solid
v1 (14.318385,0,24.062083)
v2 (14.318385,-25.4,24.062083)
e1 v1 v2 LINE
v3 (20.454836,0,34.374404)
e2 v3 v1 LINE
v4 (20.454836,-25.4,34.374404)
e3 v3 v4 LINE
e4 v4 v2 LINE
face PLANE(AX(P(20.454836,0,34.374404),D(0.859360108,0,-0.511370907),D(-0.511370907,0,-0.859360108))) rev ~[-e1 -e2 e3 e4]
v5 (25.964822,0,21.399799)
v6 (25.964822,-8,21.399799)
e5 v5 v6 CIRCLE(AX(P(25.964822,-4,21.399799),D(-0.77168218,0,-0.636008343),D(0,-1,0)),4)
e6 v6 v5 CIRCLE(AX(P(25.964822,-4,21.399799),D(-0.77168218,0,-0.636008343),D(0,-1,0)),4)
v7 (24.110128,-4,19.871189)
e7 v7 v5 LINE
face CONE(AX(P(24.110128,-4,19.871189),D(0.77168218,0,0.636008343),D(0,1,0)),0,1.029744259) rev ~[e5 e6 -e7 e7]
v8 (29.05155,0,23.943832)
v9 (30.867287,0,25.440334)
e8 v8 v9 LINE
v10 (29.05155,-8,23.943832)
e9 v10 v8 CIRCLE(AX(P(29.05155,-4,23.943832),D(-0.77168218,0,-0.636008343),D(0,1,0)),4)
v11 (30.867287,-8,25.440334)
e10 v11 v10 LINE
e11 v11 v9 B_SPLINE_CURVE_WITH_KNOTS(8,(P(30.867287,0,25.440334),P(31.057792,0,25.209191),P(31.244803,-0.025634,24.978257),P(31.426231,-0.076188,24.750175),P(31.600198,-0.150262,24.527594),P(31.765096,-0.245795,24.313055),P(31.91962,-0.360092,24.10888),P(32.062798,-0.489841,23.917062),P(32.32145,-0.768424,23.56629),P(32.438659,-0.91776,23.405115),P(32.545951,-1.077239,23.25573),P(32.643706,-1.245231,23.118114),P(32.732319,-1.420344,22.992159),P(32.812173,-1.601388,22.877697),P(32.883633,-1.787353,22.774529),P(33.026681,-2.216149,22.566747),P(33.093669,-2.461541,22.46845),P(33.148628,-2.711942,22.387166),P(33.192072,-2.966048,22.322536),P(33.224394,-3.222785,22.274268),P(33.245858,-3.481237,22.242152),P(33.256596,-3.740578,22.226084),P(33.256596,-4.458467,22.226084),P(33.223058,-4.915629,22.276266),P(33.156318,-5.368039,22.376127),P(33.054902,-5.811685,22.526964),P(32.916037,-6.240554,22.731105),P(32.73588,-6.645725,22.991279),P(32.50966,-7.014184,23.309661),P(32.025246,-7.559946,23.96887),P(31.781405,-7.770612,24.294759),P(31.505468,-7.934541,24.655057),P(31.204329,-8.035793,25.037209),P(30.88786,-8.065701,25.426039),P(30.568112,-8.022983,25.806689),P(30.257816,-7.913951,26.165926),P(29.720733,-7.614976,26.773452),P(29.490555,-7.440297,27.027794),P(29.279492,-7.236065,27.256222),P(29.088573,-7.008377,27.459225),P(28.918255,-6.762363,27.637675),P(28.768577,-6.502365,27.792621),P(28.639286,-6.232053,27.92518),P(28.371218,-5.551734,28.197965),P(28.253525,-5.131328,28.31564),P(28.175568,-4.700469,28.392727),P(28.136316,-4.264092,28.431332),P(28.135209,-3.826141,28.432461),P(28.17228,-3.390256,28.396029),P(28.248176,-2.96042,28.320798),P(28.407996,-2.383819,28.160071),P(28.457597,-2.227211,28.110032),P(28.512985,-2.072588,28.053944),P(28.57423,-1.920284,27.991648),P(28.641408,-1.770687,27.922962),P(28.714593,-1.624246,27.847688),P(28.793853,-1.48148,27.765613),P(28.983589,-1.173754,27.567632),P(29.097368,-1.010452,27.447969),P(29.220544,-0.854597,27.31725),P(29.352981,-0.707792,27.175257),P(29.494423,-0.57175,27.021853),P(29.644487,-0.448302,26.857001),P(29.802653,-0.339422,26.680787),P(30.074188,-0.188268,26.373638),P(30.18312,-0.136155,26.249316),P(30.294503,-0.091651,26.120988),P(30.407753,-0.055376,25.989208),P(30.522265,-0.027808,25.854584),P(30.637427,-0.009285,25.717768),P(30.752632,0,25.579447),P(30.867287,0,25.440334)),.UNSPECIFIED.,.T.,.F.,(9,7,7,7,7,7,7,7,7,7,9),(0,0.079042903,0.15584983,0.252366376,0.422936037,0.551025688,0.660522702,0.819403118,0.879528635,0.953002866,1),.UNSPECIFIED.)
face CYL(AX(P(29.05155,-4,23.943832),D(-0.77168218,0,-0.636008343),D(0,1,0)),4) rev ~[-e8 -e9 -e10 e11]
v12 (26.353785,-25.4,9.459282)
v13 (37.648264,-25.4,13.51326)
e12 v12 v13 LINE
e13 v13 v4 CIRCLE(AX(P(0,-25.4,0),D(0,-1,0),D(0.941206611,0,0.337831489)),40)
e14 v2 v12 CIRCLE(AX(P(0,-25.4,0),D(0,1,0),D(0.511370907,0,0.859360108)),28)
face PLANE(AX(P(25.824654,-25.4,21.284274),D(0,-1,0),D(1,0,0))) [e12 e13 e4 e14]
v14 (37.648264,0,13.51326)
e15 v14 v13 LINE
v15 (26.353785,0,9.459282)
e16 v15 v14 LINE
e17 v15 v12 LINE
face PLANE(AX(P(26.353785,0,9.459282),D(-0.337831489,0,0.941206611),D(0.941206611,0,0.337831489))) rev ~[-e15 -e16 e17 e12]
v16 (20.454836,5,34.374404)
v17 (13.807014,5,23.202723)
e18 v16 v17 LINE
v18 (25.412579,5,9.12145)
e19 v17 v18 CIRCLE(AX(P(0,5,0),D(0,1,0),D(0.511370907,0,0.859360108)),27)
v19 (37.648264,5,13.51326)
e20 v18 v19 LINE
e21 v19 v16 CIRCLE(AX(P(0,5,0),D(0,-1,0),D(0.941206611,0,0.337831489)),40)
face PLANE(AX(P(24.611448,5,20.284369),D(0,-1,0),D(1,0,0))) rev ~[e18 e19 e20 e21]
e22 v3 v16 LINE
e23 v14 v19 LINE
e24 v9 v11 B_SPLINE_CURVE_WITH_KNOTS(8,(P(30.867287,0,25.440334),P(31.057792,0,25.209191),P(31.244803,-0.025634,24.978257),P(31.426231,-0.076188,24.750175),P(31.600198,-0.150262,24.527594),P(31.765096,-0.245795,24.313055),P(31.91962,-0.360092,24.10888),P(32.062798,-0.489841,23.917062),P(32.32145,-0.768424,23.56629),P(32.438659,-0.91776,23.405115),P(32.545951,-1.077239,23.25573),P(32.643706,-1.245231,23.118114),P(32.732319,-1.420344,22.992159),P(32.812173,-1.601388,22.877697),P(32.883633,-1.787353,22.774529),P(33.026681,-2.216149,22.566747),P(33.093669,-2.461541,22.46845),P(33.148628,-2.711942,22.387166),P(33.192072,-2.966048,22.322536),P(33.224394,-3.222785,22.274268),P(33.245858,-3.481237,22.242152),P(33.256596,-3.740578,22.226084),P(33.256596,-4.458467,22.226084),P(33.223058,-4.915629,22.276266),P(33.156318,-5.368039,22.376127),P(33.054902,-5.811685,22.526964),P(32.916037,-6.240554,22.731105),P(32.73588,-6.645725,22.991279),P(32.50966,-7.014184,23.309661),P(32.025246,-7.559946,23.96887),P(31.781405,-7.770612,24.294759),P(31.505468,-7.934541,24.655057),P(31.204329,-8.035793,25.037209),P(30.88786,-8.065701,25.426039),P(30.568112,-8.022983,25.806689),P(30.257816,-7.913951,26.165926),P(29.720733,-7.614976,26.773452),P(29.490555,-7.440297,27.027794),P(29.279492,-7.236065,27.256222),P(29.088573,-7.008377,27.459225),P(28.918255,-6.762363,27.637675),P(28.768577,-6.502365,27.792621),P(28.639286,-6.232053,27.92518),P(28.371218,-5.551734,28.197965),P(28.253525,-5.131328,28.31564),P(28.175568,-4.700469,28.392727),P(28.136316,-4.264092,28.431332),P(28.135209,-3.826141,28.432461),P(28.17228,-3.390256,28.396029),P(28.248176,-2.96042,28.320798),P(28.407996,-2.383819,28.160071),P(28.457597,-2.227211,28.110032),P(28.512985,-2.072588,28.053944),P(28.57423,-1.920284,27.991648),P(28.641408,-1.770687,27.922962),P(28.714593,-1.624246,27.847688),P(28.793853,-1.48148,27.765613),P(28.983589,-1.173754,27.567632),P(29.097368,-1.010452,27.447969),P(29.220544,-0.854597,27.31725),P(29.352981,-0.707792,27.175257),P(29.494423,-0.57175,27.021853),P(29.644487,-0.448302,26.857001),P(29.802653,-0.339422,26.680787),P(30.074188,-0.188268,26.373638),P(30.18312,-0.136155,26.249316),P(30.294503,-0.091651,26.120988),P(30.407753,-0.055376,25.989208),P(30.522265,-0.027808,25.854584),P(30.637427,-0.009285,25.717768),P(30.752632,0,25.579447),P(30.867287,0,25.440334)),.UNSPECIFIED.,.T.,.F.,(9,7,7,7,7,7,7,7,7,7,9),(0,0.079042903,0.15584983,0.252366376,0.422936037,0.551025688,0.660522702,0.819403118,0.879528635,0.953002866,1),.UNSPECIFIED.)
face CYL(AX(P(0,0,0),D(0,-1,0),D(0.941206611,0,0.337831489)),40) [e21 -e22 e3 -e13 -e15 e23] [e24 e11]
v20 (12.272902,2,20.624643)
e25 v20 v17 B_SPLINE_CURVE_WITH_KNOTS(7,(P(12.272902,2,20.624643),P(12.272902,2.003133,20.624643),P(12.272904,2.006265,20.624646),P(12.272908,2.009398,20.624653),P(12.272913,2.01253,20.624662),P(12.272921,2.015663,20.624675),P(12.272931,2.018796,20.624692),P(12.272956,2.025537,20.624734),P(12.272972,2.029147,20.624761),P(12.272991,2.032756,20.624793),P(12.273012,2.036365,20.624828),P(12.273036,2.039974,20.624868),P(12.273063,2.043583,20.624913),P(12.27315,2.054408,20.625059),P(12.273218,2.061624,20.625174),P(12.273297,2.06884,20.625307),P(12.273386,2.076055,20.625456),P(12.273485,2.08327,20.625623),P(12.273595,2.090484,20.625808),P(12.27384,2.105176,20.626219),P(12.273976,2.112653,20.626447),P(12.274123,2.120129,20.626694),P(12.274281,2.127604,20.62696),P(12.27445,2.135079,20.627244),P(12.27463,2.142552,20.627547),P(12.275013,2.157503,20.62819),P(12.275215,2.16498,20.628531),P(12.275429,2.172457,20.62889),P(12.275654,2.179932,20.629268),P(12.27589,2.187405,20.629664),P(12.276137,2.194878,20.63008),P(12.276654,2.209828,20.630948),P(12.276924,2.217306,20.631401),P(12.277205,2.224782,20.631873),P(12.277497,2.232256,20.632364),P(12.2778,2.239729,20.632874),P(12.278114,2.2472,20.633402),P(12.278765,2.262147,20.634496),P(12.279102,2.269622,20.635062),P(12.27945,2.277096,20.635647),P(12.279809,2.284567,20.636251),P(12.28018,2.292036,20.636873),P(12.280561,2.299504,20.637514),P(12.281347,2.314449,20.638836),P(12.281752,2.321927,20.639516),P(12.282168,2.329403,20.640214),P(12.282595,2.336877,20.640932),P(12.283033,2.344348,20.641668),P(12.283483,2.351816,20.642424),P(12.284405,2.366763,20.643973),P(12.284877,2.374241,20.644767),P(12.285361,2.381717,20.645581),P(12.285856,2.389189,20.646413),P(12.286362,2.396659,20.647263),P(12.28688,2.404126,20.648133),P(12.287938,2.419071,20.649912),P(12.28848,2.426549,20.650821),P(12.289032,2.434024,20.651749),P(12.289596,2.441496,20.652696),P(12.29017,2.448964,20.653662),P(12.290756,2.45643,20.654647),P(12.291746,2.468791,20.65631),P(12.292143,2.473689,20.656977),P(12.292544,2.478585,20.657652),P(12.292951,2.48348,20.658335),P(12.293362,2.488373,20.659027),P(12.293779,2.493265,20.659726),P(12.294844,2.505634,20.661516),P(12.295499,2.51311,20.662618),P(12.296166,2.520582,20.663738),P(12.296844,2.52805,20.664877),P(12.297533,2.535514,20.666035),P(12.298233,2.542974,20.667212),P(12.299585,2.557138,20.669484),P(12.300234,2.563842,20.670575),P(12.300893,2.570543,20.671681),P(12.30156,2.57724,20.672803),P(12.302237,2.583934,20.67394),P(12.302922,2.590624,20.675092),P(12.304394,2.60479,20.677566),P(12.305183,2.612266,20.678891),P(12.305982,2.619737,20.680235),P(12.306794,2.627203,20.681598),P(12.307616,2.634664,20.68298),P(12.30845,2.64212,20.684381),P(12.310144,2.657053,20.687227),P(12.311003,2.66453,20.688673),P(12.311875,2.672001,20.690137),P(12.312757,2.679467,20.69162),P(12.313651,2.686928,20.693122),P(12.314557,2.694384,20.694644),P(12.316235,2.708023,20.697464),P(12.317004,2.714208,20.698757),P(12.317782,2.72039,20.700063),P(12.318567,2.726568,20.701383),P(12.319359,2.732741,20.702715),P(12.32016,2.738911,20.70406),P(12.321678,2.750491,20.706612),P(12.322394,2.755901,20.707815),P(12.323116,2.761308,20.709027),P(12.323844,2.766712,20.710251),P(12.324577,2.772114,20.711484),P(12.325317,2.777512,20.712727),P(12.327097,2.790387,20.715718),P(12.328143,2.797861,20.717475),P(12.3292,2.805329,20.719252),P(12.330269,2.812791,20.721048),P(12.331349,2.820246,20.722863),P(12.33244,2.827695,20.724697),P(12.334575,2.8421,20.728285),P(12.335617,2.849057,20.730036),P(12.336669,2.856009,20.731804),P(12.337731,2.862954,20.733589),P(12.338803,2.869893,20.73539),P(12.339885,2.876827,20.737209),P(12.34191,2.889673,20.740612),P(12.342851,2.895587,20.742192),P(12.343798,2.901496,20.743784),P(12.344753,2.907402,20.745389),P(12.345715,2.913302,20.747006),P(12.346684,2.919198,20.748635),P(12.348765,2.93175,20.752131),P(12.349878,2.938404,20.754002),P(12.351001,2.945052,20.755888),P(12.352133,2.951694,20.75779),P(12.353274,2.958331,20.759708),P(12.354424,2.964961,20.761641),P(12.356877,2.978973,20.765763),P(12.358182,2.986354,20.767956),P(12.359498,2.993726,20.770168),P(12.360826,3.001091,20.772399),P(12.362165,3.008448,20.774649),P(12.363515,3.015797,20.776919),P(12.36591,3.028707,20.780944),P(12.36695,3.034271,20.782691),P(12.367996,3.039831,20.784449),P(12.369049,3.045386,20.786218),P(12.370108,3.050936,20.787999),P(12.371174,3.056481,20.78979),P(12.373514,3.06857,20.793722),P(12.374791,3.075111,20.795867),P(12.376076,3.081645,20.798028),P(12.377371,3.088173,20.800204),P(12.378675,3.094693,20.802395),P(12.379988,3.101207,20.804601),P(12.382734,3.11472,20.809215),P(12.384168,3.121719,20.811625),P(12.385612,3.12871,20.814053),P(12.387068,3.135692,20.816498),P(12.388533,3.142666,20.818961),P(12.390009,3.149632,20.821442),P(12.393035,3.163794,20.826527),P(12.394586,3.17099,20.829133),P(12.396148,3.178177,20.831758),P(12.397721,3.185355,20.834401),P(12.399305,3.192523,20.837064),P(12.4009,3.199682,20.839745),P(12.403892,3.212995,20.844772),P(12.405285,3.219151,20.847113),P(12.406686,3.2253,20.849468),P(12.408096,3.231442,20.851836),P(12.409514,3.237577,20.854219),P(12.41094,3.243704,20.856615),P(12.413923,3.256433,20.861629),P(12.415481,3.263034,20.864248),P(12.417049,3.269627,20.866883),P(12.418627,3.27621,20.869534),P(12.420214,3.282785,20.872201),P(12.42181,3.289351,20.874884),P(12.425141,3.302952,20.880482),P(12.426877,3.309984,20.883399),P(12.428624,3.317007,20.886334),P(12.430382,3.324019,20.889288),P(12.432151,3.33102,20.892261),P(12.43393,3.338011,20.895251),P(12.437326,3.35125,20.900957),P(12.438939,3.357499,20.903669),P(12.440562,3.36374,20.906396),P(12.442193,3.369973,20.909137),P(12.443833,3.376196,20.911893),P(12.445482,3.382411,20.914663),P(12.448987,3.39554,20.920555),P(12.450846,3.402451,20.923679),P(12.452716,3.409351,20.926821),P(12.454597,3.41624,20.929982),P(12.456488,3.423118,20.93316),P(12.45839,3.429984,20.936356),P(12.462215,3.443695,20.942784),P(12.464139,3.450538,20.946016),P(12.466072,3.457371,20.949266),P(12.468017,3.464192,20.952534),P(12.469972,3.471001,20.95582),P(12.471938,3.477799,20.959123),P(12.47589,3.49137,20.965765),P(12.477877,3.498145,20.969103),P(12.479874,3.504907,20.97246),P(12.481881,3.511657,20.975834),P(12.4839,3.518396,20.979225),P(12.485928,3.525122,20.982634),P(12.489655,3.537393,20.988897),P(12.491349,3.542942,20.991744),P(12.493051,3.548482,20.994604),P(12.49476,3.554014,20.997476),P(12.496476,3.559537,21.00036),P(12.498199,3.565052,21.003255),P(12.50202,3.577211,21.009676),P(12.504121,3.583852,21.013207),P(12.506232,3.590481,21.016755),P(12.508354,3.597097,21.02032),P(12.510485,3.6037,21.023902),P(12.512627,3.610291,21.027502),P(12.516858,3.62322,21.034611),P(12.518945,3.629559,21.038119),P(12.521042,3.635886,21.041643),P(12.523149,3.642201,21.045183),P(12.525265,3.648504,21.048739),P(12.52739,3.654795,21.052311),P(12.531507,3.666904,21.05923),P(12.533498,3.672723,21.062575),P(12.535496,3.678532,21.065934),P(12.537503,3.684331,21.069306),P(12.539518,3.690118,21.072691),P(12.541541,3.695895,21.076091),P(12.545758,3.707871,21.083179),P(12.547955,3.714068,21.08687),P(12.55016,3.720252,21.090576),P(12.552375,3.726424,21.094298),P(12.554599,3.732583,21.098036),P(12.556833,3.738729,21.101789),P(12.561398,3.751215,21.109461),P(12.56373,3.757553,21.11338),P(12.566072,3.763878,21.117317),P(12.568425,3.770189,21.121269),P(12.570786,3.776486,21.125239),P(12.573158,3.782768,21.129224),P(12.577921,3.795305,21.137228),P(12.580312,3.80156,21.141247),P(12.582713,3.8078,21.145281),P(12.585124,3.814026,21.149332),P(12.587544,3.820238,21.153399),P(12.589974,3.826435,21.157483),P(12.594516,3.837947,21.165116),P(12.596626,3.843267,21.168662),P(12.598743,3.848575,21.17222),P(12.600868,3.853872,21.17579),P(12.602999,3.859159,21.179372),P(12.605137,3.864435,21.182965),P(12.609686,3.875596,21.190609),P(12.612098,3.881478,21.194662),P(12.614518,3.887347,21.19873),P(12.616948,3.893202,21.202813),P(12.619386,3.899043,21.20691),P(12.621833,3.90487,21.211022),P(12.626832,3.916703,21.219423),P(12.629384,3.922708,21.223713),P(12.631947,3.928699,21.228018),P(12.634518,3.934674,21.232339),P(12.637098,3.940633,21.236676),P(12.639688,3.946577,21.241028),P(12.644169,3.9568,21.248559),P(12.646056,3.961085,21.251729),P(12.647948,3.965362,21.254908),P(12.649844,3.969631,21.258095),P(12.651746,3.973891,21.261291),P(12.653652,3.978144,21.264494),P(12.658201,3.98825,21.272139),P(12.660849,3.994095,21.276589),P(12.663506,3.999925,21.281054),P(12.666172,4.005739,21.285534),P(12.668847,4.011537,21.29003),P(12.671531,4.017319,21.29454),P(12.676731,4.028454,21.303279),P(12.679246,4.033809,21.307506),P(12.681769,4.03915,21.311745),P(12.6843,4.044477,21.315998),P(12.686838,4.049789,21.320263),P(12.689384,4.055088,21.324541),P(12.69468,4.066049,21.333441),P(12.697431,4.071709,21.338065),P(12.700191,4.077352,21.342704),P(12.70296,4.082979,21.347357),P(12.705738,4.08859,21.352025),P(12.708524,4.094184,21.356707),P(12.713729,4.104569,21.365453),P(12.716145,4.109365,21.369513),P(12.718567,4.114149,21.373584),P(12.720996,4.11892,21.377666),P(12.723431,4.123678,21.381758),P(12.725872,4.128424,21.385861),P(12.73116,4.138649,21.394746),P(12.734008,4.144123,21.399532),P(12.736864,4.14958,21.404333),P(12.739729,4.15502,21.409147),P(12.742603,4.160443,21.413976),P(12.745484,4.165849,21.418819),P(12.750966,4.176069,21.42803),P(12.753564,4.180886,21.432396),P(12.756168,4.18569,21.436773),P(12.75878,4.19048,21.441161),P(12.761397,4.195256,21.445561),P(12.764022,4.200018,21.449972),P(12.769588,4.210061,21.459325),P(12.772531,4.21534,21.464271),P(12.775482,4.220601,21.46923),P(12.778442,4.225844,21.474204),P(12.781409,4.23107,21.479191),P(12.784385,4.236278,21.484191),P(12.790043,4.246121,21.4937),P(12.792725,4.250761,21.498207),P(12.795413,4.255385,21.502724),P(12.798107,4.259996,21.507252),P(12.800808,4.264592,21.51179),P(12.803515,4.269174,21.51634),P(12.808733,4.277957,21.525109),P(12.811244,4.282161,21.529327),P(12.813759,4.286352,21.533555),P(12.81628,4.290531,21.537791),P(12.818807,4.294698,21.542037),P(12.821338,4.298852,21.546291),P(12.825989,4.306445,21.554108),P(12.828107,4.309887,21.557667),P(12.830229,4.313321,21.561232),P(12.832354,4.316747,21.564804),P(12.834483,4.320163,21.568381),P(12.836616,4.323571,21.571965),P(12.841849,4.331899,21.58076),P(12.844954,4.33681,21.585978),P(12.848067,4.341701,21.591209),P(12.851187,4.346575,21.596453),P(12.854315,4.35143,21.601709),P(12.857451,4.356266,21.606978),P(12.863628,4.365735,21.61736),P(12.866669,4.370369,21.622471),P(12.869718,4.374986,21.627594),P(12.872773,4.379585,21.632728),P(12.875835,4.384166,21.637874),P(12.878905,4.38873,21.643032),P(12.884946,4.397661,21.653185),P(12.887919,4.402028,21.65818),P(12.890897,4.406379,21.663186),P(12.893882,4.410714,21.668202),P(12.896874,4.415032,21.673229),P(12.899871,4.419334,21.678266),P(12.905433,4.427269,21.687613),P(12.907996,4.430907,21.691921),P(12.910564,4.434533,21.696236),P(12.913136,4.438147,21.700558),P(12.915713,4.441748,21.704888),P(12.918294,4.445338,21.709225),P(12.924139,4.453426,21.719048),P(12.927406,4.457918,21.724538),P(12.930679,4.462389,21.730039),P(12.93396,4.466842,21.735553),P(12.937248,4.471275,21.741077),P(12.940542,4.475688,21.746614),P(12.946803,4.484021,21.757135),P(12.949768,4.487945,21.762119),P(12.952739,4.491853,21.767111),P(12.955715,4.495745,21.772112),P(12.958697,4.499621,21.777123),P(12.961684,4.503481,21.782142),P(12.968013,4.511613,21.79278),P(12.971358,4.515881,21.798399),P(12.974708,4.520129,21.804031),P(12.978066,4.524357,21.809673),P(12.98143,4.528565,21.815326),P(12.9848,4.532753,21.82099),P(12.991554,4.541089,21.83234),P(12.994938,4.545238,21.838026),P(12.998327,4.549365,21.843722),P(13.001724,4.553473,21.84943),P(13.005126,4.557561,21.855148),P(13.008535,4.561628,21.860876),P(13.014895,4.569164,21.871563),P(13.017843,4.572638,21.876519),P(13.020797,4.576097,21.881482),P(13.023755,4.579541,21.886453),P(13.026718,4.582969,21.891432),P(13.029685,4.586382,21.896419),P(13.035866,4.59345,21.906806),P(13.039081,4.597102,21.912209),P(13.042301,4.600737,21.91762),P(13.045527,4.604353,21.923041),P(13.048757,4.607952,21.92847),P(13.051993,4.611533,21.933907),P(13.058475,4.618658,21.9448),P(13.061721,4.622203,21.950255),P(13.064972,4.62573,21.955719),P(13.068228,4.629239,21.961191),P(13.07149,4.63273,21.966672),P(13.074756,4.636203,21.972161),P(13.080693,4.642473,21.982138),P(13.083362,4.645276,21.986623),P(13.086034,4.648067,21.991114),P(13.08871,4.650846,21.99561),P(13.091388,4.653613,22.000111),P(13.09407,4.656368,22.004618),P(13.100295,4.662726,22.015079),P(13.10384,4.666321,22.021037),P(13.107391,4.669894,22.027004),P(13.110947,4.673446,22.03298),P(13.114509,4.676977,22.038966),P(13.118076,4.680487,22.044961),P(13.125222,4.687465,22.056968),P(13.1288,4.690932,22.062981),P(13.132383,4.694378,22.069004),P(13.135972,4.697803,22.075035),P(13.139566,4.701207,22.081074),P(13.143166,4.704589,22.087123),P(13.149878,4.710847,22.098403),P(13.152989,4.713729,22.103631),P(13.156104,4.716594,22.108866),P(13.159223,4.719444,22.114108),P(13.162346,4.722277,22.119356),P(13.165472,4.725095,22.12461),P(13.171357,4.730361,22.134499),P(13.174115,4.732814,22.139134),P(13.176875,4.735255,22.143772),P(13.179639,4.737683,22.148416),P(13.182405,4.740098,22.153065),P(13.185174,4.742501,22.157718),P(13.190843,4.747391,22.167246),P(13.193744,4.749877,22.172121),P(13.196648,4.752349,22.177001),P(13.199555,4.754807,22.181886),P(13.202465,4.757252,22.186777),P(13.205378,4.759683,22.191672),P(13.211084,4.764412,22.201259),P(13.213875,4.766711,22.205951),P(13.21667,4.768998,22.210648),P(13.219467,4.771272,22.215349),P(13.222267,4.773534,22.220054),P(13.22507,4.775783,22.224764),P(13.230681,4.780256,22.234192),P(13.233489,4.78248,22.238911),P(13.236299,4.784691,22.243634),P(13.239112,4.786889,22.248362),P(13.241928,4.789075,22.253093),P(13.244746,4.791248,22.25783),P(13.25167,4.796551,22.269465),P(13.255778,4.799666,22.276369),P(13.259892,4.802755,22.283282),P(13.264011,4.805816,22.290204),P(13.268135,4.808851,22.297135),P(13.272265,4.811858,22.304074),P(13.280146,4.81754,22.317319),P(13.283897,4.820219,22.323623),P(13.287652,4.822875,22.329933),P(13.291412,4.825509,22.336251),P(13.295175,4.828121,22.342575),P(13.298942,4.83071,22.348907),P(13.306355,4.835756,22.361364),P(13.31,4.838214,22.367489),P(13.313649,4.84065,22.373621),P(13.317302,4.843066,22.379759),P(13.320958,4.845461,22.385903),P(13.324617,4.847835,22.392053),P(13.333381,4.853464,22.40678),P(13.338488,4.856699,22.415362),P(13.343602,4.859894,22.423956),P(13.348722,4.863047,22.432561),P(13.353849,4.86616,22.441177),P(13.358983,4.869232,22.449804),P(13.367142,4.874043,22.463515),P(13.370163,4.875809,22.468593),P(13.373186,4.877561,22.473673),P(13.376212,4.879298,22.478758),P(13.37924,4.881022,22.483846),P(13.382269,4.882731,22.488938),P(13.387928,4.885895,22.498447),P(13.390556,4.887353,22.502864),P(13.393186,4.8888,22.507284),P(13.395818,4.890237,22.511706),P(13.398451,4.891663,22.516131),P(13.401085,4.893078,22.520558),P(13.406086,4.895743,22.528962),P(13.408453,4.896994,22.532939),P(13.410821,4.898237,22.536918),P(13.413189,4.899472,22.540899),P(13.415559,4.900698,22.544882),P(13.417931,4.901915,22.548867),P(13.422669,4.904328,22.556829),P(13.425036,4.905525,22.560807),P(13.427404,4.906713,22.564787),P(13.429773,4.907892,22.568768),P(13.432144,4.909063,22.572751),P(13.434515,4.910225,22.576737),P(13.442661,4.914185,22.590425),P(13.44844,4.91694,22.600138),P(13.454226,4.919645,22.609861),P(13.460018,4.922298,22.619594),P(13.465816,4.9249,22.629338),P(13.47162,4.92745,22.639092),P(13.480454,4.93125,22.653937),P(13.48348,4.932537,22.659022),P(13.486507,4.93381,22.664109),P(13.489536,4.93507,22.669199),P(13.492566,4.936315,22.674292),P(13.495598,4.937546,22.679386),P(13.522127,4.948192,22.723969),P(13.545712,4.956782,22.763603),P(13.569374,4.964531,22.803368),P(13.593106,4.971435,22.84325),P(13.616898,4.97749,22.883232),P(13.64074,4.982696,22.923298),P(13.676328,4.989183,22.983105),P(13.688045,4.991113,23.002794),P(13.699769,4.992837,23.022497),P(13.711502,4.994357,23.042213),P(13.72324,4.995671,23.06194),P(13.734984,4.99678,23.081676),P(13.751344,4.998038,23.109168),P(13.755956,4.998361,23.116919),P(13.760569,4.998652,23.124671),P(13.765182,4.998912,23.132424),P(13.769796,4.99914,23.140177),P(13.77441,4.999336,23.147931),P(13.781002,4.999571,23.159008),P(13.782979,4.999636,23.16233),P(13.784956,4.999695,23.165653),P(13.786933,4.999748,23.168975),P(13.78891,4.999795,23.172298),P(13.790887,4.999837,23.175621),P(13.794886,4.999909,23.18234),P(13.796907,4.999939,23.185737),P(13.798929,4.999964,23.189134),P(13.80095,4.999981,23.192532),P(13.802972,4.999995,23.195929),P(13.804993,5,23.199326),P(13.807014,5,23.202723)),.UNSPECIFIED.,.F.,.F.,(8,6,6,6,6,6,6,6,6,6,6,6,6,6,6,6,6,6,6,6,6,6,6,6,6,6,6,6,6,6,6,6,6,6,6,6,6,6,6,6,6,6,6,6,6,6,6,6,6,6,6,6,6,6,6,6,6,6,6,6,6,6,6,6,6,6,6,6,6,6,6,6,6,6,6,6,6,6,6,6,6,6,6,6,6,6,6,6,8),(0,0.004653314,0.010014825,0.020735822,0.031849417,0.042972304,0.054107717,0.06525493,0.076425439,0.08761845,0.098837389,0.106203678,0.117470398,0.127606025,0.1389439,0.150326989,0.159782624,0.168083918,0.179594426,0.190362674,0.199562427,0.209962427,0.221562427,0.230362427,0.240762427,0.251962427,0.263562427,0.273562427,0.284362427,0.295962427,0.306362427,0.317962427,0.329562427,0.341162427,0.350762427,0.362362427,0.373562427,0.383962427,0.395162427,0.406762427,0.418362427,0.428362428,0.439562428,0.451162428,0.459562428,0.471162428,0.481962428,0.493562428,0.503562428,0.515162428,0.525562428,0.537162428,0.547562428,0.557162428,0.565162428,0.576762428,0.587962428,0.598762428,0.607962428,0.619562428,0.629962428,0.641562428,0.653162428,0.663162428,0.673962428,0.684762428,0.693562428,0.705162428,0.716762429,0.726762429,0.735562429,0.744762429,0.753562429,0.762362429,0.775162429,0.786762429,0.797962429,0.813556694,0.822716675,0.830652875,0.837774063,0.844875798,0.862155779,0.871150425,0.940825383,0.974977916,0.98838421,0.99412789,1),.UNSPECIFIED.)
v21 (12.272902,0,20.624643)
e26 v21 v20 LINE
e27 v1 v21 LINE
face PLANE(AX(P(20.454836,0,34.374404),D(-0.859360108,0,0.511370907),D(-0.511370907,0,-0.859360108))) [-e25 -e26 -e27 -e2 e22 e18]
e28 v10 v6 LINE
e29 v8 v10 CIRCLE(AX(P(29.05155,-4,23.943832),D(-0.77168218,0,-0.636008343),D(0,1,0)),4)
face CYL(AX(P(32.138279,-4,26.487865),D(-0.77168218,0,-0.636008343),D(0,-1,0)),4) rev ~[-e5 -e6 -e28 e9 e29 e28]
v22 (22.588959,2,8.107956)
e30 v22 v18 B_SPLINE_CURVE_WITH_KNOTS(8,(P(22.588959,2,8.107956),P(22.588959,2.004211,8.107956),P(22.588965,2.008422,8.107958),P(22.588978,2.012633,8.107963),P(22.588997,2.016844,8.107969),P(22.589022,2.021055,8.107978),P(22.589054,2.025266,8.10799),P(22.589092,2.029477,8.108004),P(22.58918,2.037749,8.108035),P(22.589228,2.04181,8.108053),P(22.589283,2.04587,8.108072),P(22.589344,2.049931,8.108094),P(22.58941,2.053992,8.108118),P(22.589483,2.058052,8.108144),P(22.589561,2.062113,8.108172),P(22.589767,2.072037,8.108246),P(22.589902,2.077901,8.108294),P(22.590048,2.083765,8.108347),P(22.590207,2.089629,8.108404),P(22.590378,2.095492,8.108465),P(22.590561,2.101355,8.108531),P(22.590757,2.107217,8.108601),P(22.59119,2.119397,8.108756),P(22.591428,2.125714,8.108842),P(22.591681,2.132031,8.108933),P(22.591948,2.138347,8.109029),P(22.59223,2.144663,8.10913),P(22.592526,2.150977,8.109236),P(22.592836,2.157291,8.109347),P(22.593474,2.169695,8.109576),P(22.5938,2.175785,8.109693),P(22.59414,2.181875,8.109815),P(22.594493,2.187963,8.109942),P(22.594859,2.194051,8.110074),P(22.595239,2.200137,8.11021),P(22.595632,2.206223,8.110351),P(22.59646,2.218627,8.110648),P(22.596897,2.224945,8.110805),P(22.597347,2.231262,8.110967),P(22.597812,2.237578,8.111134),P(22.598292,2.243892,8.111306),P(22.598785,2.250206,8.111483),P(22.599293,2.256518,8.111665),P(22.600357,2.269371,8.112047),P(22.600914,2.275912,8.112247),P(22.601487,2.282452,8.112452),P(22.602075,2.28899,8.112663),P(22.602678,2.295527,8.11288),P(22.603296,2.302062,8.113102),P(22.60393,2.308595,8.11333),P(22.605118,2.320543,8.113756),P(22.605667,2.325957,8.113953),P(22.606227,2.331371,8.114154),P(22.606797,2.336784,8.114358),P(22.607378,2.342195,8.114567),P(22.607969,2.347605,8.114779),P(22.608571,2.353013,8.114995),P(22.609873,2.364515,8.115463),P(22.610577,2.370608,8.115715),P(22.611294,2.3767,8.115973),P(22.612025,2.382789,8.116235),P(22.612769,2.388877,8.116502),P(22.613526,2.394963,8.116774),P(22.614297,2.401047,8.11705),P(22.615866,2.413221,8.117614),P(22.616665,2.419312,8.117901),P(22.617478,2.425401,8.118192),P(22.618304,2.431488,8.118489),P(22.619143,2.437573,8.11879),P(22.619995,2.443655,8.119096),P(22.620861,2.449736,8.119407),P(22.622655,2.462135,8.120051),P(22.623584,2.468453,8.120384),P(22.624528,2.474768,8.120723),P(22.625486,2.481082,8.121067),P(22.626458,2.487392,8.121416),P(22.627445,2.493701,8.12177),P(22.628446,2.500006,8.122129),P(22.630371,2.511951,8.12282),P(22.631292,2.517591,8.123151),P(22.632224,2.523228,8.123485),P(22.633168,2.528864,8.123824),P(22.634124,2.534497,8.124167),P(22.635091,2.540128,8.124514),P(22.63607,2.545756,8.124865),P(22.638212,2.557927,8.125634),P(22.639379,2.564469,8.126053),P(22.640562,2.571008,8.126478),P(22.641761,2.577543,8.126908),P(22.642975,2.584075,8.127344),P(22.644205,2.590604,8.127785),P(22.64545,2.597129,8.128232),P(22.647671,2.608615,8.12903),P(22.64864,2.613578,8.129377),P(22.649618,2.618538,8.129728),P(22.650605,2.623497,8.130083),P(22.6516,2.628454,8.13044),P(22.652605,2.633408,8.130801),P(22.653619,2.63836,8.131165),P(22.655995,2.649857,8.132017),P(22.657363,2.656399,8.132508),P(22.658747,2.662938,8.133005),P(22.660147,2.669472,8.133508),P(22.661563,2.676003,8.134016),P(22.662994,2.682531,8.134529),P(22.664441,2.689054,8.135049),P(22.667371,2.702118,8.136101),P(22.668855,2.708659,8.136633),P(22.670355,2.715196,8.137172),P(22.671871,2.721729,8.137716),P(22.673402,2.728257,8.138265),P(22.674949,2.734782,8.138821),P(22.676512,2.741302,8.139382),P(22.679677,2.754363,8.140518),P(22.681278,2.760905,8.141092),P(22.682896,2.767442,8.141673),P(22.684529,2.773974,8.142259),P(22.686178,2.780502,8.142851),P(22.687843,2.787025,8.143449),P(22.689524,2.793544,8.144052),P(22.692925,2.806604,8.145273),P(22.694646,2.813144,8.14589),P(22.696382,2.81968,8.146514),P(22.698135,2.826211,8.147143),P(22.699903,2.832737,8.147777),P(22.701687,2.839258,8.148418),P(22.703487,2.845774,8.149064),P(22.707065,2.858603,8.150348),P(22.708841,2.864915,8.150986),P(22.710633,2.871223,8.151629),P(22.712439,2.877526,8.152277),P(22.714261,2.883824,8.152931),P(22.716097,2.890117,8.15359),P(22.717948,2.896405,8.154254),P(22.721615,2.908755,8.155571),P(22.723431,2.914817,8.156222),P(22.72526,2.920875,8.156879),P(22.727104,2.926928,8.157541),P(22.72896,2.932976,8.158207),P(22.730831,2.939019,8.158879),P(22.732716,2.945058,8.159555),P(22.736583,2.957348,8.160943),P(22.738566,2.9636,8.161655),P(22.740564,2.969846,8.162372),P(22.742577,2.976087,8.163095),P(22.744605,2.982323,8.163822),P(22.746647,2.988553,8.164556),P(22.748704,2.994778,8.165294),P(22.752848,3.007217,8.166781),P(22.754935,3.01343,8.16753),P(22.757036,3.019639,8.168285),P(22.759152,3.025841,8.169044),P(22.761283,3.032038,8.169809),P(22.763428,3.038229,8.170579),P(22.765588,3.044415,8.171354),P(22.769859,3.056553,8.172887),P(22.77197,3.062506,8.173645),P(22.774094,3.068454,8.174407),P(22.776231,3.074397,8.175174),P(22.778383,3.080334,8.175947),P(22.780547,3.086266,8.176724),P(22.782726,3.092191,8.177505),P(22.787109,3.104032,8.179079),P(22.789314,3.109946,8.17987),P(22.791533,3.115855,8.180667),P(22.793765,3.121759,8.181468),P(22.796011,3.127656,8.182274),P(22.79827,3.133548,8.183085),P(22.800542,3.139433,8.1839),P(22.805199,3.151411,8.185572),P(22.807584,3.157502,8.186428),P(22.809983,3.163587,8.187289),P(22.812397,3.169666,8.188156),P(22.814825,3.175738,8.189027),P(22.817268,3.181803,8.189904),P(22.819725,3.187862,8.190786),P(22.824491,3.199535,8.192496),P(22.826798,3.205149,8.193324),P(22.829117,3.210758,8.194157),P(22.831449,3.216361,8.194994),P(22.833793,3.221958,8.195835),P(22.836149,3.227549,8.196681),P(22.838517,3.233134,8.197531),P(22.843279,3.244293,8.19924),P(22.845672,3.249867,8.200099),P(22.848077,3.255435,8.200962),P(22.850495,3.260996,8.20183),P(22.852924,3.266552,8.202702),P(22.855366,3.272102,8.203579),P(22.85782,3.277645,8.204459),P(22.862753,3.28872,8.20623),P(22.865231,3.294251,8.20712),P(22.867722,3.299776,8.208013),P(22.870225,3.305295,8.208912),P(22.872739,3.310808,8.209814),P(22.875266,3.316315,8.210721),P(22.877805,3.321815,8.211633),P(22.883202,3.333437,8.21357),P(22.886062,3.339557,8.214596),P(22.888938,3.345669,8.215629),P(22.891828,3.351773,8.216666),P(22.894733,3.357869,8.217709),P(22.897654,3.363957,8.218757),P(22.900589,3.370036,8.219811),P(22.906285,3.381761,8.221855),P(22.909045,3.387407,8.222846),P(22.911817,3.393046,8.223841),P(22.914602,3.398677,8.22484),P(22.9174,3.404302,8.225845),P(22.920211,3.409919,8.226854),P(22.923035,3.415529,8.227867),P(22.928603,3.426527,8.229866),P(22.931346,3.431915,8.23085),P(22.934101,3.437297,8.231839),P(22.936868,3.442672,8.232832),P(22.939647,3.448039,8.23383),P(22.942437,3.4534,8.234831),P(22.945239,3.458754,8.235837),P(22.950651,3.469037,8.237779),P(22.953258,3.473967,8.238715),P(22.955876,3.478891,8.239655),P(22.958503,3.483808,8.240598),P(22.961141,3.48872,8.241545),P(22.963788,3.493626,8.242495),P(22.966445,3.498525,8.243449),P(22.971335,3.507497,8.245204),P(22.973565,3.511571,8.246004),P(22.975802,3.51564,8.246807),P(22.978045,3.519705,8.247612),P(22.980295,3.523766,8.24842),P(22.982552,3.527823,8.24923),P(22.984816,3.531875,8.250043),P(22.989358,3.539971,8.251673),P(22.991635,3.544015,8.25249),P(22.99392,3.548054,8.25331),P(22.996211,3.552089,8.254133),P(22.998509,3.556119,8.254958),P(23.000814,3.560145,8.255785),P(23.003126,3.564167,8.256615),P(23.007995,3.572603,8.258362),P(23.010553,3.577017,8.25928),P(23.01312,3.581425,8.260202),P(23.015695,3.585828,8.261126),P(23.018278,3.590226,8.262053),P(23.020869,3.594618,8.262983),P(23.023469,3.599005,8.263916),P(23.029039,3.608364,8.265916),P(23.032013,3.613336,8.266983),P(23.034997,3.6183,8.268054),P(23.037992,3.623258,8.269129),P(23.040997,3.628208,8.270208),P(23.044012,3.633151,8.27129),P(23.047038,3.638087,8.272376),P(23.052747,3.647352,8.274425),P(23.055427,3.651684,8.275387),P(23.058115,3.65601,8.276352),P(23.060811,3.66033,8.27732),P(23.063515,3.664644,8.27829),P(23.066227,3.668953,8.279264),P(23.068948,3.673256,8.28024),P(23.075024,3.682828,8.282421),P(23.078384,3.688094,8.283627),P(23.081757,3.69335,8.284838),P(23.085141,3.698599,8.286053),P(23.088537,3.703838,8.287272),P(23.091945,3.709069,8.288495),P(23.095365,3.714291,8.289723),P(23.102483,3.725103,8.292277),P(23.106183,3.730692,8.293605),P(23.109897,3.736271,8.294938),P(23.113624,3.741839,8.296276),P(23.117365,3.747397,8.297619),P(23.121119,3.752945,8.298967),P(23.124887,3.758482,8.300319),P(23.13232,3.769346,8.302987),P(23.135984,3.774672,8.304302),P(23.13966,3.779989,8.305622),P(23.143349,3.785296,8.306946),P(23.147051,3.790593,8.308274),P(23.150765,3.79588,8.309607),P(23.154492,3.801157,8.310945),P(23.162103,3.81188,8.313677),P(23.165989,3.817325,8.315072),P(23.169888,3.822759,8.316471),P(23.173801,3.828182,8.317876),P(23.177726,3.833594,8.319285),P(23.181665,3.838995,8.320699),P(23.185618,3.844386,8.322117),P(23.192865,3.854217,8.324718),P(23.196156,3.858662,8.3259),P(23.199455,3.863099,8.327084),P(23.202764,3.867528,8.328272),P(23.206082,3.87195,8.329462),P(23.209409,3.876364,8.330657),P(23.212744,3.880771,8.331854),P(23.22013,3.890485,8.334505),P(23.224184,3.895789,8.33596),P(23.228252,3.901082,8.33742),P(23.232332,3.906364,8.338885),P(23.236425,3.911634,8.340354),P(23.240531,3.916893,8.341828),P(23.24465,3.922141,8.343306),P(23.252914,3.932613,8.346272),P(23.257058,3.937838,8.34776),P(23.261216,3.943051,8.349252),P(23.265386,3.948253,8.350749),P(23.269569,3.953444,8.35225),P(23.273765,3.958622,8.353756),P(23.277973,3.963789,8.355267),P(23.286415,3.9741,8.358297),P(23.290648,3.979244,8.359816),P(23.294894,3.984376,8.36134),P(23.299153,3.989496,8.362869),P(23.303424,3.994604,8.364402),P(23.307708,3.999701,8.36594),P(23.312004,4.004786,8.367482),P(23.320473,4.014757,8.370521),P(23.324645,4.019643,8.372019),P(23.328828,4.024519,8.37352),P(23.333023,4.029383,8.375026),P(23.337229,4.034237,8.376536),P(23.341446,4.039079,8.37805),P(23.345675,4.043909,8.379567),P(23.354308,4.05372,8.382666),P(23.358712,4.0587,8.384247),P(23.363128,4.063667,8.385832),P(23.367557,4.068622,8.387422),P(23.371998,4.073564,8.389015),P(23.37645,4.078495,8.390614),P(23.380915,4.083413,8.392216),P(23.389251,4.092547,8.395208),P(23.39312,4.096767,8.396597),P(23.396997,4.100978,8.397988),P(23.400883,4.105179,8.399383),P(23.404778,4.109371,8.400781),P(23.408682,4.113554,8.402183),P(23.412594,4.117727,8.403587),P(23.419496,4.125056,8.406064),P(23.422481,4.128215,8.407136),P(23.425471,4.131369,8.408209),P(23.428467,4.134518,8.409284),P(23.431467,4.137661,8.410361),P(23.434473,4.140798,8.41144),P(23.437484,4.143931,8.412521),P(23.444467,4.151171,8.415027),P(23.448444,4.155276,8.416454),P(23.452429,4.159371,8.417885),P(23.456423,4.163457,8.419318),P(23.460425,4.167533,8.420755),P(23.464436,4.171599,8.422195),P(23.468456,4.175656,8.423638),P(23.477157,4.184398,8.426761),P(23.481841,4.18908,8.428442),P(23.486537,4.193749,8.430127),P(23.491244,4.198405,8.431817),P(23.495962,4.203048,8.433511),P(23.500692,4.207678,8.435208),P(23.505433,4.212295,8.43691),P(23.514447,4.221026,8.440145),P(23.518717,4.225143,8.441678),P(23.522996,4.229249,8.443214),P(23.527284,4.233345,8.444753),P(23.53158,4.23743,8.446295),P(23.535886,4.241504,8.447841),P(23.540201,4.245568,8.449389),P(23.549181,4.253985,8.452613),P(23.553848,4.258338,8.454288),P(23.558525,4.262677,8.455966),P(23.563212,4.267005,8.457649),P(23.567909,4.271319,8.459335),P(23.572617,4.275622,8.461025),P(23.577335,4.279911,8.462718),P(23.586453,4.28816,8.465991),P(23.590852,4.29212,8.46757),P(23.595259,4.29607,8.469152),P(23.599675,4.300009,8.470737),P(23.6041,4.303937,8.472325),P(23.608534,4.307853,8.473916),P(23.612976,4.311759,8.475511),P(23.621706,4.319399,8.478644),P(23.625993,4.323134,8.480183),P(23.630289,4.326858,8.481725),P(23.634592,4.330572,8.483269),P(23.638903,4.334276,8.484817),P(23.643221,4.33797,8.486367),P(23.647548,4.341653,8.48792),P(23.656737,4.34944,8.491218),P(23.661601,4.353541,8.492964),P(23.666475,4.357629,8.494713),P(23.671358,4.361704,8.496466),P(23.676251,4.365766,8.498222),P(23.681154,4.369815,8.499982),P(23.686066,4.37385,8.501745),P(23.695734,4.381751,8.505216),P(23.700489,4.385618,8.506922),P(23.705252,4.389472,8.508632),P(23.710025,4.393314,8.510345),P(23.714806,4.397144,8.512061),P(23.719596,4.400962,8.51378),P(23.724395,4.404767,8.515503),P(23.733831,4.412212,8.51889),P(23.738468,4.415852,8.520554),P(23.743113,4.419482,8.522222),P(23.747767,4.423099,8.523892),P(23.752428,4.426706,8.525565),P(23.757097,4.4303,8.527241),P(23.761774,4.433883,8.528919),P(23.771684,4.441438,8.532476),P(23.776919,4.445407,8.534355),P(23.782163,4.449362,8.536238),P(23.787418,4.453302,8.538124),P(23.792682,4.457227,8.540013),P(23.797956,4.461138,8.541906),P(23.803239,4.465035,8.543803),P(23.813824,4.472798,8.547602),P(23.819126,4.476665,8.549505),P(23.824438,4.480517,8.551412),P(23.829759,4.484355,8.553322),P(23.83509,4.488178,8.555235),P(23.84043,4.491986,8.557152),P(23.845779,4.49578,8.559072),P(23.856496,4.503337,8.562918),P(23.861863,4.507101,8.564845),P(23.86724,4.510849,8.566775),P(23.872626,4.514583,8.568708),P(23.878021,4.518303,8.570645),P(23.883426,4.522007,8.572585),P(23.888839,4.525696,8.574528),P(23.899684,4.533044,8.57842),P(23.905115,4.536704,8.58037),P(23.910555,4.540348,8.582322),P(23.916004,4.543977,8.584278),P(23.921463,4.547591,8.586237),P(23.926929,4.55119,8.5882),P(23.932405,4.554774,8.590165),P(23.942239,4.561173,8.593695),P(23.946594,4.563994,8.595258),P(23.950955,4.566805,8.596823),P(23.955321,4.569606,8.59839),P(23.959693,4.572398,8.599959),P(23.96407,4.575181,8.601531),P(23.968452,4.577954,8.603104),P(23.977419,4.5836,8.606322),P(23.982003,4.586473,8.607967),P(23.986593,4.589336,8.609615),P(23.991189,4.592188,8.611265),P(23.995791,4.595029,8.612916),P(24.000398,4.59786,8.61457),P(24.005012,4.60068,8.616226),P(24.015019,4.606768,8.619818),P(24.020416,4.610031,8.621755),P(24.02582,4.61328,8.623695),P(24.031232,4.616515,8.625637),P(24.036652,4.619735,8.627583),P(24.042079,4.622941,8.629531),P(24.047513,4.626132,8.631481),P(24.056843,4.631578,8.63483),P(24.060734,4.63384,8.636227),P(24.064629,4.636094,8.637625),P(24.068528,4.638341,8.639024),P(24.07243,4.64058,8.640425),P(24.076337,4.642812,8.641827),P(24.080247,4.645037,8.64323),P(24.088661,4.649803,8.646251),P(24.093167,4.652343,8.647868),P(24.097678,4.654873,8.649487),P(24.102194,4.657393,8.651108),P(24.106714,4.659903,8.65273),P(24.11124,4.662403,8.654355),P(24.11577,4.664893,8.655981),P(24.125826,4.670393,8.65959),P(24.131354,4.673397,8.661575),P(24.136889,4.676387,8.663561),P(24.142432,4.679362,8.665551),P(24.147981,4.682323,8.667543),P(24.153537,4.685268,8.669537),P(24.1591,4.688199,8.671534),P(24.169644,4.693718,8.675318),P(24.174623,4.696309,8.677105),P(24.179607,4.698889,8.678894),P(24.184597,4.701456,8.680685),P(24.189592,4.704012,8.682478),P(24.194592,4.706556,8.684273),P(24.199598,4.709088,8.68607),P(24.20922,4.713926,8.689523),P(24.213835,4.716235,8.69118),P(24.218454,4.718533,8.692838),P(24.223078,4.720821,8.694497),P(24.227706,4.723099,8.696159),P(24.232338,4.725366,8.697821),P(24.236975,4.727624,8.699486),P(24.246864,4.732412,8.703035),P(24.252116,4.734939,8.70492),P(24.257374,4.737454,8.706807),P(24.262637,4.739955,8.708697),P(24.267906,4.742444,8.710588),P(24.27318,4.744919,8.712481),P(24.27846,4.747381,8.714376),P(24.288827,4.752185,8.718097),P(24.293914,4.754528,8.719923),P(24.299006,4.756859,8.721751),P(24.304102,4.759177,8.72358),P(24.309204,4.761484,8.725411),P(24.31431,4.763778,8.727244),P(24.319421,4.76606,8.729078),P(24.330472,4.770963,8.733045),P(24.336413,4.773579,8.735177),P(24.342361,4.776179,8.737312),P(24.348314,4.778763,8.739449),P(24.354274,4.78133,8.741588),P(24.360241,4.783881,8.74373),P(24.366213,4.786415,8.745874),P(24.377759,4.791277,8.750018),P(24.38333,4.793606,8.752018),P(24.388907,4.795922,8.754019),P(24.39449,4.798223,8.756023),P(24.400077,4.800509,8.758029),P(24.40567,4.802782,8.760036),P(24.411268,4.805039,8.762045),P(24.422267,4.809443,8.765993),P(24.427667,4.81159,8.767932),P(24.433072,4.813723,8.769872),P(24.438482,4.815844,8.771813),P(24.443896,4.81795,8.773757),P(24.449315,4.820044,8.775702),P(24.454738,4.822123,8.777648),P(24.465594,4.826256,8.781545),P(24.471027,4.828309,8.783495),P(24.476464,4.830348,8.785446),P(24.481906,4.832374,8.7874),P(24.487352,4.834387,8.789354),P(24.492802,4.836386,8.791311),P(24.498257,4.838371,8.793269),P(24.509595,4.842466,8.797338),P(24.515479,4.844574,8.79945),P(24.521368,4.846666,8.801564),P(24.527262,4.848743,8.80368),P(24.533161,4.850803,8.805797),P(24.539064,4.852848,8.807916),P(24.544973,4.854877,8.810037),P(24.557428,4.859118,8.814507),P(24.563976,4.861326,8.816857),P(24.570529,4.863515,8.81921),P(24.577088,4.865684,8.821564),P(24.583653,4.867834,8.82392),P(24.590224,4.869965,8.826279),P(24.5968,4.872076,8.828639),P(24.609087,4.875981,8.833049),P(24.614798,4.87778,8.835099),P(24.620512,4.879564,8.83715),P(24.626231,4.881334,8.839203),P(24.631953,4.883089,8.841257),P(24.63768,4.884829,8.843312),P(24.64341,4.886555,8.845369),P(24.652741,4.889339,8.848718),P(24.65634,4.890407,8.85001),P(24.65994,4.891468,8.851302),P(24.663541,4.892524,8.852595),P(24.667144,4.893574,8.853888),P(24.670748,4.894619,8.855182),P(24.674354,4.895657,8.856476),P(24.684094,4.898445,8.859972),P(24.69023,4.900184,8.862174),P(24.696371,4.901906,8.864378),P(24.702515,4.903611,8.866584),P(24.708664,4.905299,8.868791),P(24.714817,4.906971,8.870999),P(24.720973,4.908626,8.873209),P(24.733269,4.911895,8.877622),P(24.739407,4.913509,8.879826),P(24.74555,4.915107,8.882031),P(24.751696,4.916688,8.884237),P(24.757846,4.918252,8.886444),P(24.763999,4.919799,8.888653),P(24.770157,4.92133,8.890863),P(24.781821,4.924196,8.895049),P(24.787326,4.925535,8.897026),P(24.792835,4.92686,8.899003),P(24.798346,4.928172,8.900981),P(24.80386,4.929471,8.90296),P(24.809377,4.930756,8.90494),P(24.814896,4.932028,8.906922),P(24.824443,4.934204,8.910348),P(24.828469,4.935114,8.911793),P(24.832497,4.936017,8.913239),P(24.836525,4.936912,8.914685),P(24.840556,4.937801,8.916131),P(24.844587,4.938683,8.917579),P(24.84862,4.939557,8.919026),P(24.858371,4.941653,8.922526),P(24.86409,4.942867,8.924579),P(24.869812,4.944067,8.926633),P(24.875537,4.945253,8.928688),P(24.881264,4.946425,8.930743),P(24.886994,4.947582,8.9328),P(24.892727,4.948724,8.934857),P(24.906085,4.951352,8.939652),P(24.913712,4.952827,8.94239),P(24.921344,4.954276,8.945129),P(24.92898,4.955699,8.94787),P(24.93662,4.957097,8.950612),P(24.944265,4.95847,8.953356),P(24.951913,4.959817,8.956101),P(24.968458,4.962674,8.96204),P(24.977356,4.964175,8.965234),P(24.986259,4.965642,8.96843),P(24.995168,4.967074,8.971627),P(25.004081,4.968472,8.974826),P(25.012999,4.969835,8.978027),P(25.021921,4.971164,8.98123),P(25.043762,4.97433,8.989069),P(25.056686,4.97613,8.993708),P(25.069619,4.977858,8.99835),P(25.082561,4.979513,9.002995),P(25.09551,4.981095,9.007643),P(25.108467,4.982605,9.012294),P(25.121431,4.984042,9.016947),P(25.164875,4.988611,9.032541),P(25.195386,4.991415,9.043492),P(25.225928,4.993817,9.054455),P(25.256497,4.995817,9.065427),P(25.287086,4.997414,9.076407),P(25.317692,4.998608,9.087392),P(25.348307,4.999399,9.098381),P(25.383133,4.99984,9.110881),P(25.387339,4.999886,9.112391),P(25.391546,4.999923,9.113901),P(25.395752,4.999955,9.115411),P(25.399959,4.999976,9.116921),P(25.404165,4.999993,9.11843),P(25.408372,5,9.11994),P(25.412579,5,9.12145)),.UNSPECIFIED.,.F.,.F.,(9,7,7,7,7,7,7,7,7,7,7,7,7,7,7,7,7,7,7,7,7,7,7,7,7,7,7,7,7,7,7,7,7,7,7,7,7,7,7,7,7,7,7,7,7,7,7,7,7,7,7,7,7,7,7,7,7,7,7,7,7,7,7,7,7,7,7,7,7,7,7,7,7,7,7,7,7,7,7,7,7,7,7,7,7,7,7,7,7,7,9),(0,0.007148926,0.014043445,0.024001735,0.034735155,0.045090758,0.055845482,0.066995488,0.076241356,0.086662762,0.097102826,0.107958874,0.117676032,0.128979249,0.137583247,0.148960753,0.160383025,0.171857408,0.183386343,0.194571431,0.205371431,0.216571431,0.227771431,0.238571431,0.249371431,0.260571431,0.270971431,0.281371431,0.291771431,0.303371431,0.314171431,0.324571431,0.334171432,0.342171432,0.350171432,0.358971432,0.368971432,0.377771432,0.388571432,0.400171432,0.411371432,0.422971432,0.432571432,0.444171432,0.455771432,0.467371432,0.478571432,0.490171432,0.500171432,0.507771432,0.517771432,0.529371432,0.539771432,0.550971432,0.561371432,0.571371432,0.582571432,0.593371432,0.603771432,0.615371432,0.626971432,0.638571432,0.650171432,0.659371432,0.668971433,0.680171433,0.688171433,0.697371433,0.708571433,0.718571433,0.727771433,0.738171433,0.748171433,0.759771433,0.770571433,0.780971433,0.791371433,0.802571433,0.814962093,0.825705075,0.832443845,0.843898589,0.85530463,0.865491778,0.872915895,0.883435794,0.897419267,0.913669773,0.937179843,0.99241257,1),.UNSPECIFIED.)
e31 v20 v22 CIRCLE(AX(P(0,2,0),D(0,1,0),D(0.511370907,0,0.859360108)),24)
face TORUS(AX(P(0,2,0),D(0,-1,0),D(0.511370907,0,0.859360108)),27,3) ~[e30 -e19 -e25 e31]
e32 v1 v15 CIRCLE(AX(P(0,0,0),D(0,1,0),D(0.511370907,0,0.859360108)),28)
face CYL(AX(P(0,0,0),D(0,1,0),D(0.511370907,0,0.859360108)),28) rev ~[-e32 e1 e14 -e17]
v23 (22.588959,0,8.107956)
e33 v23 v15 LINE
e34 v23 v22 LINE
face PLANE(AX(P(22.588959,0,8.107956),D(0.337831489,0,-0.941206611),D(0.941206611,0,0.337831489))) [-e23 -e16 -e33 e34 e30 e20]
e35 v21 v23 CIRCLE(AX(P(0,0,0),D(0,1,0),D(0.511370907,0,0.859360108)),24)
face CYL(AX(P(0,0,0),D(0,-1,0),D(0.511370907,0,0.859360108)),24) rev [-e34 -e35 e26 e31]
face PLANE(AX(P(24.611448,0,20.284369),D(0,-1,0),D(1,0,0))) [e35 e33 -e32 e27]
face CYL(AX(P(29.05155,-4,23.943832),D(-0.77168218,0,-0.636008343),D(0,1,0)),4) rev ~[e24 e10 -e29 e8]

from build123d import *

# Parameters (mm, degrees)
F2_DEPTH = 25.4
F3_DEPTH = 5
F6_D     = 8
F6_DEPTH = 5
F6_TIP   = 2.4034424761
F7_D     = 8
F7_DEPTH = 4
F7_TIP   = 2.4034424761
F8_R     = 3


with BuildPart() as f2:
    # F0 (on Front) → F2 (new body)
    with BuildSketch(Plane.XZ):
        with BuildLine():
            Line((26.353785117, 9.4592816856), (37.6482644529, 13.5132595508))
            ThreePointArc((37.6482644529, 13.5132595508), (30.8672872021, 25.4403337396), (20.4548362885, 34.3744043208))
            Line((20.4548362885, 34.3744043208), (14.3183854019, 24.0620830246))
            ThreePointArc((14.3183854019, 24.0620830246), (21.6071010415, 17.8082336177), (26.353785117, 9.4592816856))
        make_face()
    extrude(amount=F2_DEPTH)

    # F1 (on Front) + F0 (on Front) → F3 (join)
    with BuildSketch(Plane.XZ):
        with BuildLine():
            ThreePointArc((12.2729017731, 20.6246425925), (18.5203723213, 15.2642002437), (22.5889586717, 8.1079557305))
            Line((22.5889586717, 8.1079557305), (37.6482644529, 13.5132595508))
            ThreePointArc((37.6482644529, 13.5132595508), (30.8672872021, 25.4403337396), (20.4548362885, 34.3744043208))
            Line((20.4548362885, 34.3744043208), (12.2729017731, 20.6246425925))
        make_face()
    with BuildSketch(Plane.XZ):
        with BuildLine():
            Line((26.353785117, 9.4592816856), (37.6482644529, 13.5132595508))
            ThreePointArc((37.6482644529, 13.5132595508), (30.8672872021, 25.4403337396), (20.4548362885, 34.3744043208))
            Line((20.4548362885, 34.3744043208), (14.3183854019, 24.0620830246))
            ThreePointArc((14.3183854019, 24.0620830246), (21.6071010415, 17.8082336177), (26.353785117, 9.4592816856))
        make_face()
    extrude(amount=-F3_DEPTH)

    # F6 (one way)
    with BuildSketch(Plane(origin=(29.0515503707, 0, 23.9438319358), x_dir=(0, 1, 0), z_dir=(-0.7716821801, 0, -0.6360083435))):
        with Locations((-4, 0)):
            Circle(F6_D / 2)
    extrude(amount=-F6_DEPTH, mode=Mode.SUBTRACT)
    with Locations(Plane(origin=(29.0515503707, 0, 23.9438319358), x_dir=(0, 1, 0), z_dir=(-0.7716821801, 0, -0.6360083435))):
        with Locations((-4, 0)):
            with Locations((0, 0, -(F6_DEPTH + F6_TIP / 2))):  # 118° drill point
                Cone(0, F6_D / 2, F6_TIP, mode=Mode.SUBTRACT)

    # F7
    with Locations(Plane(origin=(29.0515503707, 0, 23.9438319358), x_dir=(0, 1, 0), z_dir=(0.7716821801, 0, 0.6360083435))):
        with Locations((-4, 0)):
            Hole(F7_D / 2, depth=F7_DEPTH)
            with Locations((0, 0, -(F7_DEPTH + F7_TIP / 2))):  # 118° drill point
                Cone(0, F7_D / 2, F7_TIP, mode=Mode.SUBTRACT)

    # F8
    f8_edges = [f2.edges().sort_by_distance(p)[0] for p in [
        (18.520372, 5, 15.2642),
    ]]
    fillet(f8_edges, radius=F8_R)


solid = f2.part
